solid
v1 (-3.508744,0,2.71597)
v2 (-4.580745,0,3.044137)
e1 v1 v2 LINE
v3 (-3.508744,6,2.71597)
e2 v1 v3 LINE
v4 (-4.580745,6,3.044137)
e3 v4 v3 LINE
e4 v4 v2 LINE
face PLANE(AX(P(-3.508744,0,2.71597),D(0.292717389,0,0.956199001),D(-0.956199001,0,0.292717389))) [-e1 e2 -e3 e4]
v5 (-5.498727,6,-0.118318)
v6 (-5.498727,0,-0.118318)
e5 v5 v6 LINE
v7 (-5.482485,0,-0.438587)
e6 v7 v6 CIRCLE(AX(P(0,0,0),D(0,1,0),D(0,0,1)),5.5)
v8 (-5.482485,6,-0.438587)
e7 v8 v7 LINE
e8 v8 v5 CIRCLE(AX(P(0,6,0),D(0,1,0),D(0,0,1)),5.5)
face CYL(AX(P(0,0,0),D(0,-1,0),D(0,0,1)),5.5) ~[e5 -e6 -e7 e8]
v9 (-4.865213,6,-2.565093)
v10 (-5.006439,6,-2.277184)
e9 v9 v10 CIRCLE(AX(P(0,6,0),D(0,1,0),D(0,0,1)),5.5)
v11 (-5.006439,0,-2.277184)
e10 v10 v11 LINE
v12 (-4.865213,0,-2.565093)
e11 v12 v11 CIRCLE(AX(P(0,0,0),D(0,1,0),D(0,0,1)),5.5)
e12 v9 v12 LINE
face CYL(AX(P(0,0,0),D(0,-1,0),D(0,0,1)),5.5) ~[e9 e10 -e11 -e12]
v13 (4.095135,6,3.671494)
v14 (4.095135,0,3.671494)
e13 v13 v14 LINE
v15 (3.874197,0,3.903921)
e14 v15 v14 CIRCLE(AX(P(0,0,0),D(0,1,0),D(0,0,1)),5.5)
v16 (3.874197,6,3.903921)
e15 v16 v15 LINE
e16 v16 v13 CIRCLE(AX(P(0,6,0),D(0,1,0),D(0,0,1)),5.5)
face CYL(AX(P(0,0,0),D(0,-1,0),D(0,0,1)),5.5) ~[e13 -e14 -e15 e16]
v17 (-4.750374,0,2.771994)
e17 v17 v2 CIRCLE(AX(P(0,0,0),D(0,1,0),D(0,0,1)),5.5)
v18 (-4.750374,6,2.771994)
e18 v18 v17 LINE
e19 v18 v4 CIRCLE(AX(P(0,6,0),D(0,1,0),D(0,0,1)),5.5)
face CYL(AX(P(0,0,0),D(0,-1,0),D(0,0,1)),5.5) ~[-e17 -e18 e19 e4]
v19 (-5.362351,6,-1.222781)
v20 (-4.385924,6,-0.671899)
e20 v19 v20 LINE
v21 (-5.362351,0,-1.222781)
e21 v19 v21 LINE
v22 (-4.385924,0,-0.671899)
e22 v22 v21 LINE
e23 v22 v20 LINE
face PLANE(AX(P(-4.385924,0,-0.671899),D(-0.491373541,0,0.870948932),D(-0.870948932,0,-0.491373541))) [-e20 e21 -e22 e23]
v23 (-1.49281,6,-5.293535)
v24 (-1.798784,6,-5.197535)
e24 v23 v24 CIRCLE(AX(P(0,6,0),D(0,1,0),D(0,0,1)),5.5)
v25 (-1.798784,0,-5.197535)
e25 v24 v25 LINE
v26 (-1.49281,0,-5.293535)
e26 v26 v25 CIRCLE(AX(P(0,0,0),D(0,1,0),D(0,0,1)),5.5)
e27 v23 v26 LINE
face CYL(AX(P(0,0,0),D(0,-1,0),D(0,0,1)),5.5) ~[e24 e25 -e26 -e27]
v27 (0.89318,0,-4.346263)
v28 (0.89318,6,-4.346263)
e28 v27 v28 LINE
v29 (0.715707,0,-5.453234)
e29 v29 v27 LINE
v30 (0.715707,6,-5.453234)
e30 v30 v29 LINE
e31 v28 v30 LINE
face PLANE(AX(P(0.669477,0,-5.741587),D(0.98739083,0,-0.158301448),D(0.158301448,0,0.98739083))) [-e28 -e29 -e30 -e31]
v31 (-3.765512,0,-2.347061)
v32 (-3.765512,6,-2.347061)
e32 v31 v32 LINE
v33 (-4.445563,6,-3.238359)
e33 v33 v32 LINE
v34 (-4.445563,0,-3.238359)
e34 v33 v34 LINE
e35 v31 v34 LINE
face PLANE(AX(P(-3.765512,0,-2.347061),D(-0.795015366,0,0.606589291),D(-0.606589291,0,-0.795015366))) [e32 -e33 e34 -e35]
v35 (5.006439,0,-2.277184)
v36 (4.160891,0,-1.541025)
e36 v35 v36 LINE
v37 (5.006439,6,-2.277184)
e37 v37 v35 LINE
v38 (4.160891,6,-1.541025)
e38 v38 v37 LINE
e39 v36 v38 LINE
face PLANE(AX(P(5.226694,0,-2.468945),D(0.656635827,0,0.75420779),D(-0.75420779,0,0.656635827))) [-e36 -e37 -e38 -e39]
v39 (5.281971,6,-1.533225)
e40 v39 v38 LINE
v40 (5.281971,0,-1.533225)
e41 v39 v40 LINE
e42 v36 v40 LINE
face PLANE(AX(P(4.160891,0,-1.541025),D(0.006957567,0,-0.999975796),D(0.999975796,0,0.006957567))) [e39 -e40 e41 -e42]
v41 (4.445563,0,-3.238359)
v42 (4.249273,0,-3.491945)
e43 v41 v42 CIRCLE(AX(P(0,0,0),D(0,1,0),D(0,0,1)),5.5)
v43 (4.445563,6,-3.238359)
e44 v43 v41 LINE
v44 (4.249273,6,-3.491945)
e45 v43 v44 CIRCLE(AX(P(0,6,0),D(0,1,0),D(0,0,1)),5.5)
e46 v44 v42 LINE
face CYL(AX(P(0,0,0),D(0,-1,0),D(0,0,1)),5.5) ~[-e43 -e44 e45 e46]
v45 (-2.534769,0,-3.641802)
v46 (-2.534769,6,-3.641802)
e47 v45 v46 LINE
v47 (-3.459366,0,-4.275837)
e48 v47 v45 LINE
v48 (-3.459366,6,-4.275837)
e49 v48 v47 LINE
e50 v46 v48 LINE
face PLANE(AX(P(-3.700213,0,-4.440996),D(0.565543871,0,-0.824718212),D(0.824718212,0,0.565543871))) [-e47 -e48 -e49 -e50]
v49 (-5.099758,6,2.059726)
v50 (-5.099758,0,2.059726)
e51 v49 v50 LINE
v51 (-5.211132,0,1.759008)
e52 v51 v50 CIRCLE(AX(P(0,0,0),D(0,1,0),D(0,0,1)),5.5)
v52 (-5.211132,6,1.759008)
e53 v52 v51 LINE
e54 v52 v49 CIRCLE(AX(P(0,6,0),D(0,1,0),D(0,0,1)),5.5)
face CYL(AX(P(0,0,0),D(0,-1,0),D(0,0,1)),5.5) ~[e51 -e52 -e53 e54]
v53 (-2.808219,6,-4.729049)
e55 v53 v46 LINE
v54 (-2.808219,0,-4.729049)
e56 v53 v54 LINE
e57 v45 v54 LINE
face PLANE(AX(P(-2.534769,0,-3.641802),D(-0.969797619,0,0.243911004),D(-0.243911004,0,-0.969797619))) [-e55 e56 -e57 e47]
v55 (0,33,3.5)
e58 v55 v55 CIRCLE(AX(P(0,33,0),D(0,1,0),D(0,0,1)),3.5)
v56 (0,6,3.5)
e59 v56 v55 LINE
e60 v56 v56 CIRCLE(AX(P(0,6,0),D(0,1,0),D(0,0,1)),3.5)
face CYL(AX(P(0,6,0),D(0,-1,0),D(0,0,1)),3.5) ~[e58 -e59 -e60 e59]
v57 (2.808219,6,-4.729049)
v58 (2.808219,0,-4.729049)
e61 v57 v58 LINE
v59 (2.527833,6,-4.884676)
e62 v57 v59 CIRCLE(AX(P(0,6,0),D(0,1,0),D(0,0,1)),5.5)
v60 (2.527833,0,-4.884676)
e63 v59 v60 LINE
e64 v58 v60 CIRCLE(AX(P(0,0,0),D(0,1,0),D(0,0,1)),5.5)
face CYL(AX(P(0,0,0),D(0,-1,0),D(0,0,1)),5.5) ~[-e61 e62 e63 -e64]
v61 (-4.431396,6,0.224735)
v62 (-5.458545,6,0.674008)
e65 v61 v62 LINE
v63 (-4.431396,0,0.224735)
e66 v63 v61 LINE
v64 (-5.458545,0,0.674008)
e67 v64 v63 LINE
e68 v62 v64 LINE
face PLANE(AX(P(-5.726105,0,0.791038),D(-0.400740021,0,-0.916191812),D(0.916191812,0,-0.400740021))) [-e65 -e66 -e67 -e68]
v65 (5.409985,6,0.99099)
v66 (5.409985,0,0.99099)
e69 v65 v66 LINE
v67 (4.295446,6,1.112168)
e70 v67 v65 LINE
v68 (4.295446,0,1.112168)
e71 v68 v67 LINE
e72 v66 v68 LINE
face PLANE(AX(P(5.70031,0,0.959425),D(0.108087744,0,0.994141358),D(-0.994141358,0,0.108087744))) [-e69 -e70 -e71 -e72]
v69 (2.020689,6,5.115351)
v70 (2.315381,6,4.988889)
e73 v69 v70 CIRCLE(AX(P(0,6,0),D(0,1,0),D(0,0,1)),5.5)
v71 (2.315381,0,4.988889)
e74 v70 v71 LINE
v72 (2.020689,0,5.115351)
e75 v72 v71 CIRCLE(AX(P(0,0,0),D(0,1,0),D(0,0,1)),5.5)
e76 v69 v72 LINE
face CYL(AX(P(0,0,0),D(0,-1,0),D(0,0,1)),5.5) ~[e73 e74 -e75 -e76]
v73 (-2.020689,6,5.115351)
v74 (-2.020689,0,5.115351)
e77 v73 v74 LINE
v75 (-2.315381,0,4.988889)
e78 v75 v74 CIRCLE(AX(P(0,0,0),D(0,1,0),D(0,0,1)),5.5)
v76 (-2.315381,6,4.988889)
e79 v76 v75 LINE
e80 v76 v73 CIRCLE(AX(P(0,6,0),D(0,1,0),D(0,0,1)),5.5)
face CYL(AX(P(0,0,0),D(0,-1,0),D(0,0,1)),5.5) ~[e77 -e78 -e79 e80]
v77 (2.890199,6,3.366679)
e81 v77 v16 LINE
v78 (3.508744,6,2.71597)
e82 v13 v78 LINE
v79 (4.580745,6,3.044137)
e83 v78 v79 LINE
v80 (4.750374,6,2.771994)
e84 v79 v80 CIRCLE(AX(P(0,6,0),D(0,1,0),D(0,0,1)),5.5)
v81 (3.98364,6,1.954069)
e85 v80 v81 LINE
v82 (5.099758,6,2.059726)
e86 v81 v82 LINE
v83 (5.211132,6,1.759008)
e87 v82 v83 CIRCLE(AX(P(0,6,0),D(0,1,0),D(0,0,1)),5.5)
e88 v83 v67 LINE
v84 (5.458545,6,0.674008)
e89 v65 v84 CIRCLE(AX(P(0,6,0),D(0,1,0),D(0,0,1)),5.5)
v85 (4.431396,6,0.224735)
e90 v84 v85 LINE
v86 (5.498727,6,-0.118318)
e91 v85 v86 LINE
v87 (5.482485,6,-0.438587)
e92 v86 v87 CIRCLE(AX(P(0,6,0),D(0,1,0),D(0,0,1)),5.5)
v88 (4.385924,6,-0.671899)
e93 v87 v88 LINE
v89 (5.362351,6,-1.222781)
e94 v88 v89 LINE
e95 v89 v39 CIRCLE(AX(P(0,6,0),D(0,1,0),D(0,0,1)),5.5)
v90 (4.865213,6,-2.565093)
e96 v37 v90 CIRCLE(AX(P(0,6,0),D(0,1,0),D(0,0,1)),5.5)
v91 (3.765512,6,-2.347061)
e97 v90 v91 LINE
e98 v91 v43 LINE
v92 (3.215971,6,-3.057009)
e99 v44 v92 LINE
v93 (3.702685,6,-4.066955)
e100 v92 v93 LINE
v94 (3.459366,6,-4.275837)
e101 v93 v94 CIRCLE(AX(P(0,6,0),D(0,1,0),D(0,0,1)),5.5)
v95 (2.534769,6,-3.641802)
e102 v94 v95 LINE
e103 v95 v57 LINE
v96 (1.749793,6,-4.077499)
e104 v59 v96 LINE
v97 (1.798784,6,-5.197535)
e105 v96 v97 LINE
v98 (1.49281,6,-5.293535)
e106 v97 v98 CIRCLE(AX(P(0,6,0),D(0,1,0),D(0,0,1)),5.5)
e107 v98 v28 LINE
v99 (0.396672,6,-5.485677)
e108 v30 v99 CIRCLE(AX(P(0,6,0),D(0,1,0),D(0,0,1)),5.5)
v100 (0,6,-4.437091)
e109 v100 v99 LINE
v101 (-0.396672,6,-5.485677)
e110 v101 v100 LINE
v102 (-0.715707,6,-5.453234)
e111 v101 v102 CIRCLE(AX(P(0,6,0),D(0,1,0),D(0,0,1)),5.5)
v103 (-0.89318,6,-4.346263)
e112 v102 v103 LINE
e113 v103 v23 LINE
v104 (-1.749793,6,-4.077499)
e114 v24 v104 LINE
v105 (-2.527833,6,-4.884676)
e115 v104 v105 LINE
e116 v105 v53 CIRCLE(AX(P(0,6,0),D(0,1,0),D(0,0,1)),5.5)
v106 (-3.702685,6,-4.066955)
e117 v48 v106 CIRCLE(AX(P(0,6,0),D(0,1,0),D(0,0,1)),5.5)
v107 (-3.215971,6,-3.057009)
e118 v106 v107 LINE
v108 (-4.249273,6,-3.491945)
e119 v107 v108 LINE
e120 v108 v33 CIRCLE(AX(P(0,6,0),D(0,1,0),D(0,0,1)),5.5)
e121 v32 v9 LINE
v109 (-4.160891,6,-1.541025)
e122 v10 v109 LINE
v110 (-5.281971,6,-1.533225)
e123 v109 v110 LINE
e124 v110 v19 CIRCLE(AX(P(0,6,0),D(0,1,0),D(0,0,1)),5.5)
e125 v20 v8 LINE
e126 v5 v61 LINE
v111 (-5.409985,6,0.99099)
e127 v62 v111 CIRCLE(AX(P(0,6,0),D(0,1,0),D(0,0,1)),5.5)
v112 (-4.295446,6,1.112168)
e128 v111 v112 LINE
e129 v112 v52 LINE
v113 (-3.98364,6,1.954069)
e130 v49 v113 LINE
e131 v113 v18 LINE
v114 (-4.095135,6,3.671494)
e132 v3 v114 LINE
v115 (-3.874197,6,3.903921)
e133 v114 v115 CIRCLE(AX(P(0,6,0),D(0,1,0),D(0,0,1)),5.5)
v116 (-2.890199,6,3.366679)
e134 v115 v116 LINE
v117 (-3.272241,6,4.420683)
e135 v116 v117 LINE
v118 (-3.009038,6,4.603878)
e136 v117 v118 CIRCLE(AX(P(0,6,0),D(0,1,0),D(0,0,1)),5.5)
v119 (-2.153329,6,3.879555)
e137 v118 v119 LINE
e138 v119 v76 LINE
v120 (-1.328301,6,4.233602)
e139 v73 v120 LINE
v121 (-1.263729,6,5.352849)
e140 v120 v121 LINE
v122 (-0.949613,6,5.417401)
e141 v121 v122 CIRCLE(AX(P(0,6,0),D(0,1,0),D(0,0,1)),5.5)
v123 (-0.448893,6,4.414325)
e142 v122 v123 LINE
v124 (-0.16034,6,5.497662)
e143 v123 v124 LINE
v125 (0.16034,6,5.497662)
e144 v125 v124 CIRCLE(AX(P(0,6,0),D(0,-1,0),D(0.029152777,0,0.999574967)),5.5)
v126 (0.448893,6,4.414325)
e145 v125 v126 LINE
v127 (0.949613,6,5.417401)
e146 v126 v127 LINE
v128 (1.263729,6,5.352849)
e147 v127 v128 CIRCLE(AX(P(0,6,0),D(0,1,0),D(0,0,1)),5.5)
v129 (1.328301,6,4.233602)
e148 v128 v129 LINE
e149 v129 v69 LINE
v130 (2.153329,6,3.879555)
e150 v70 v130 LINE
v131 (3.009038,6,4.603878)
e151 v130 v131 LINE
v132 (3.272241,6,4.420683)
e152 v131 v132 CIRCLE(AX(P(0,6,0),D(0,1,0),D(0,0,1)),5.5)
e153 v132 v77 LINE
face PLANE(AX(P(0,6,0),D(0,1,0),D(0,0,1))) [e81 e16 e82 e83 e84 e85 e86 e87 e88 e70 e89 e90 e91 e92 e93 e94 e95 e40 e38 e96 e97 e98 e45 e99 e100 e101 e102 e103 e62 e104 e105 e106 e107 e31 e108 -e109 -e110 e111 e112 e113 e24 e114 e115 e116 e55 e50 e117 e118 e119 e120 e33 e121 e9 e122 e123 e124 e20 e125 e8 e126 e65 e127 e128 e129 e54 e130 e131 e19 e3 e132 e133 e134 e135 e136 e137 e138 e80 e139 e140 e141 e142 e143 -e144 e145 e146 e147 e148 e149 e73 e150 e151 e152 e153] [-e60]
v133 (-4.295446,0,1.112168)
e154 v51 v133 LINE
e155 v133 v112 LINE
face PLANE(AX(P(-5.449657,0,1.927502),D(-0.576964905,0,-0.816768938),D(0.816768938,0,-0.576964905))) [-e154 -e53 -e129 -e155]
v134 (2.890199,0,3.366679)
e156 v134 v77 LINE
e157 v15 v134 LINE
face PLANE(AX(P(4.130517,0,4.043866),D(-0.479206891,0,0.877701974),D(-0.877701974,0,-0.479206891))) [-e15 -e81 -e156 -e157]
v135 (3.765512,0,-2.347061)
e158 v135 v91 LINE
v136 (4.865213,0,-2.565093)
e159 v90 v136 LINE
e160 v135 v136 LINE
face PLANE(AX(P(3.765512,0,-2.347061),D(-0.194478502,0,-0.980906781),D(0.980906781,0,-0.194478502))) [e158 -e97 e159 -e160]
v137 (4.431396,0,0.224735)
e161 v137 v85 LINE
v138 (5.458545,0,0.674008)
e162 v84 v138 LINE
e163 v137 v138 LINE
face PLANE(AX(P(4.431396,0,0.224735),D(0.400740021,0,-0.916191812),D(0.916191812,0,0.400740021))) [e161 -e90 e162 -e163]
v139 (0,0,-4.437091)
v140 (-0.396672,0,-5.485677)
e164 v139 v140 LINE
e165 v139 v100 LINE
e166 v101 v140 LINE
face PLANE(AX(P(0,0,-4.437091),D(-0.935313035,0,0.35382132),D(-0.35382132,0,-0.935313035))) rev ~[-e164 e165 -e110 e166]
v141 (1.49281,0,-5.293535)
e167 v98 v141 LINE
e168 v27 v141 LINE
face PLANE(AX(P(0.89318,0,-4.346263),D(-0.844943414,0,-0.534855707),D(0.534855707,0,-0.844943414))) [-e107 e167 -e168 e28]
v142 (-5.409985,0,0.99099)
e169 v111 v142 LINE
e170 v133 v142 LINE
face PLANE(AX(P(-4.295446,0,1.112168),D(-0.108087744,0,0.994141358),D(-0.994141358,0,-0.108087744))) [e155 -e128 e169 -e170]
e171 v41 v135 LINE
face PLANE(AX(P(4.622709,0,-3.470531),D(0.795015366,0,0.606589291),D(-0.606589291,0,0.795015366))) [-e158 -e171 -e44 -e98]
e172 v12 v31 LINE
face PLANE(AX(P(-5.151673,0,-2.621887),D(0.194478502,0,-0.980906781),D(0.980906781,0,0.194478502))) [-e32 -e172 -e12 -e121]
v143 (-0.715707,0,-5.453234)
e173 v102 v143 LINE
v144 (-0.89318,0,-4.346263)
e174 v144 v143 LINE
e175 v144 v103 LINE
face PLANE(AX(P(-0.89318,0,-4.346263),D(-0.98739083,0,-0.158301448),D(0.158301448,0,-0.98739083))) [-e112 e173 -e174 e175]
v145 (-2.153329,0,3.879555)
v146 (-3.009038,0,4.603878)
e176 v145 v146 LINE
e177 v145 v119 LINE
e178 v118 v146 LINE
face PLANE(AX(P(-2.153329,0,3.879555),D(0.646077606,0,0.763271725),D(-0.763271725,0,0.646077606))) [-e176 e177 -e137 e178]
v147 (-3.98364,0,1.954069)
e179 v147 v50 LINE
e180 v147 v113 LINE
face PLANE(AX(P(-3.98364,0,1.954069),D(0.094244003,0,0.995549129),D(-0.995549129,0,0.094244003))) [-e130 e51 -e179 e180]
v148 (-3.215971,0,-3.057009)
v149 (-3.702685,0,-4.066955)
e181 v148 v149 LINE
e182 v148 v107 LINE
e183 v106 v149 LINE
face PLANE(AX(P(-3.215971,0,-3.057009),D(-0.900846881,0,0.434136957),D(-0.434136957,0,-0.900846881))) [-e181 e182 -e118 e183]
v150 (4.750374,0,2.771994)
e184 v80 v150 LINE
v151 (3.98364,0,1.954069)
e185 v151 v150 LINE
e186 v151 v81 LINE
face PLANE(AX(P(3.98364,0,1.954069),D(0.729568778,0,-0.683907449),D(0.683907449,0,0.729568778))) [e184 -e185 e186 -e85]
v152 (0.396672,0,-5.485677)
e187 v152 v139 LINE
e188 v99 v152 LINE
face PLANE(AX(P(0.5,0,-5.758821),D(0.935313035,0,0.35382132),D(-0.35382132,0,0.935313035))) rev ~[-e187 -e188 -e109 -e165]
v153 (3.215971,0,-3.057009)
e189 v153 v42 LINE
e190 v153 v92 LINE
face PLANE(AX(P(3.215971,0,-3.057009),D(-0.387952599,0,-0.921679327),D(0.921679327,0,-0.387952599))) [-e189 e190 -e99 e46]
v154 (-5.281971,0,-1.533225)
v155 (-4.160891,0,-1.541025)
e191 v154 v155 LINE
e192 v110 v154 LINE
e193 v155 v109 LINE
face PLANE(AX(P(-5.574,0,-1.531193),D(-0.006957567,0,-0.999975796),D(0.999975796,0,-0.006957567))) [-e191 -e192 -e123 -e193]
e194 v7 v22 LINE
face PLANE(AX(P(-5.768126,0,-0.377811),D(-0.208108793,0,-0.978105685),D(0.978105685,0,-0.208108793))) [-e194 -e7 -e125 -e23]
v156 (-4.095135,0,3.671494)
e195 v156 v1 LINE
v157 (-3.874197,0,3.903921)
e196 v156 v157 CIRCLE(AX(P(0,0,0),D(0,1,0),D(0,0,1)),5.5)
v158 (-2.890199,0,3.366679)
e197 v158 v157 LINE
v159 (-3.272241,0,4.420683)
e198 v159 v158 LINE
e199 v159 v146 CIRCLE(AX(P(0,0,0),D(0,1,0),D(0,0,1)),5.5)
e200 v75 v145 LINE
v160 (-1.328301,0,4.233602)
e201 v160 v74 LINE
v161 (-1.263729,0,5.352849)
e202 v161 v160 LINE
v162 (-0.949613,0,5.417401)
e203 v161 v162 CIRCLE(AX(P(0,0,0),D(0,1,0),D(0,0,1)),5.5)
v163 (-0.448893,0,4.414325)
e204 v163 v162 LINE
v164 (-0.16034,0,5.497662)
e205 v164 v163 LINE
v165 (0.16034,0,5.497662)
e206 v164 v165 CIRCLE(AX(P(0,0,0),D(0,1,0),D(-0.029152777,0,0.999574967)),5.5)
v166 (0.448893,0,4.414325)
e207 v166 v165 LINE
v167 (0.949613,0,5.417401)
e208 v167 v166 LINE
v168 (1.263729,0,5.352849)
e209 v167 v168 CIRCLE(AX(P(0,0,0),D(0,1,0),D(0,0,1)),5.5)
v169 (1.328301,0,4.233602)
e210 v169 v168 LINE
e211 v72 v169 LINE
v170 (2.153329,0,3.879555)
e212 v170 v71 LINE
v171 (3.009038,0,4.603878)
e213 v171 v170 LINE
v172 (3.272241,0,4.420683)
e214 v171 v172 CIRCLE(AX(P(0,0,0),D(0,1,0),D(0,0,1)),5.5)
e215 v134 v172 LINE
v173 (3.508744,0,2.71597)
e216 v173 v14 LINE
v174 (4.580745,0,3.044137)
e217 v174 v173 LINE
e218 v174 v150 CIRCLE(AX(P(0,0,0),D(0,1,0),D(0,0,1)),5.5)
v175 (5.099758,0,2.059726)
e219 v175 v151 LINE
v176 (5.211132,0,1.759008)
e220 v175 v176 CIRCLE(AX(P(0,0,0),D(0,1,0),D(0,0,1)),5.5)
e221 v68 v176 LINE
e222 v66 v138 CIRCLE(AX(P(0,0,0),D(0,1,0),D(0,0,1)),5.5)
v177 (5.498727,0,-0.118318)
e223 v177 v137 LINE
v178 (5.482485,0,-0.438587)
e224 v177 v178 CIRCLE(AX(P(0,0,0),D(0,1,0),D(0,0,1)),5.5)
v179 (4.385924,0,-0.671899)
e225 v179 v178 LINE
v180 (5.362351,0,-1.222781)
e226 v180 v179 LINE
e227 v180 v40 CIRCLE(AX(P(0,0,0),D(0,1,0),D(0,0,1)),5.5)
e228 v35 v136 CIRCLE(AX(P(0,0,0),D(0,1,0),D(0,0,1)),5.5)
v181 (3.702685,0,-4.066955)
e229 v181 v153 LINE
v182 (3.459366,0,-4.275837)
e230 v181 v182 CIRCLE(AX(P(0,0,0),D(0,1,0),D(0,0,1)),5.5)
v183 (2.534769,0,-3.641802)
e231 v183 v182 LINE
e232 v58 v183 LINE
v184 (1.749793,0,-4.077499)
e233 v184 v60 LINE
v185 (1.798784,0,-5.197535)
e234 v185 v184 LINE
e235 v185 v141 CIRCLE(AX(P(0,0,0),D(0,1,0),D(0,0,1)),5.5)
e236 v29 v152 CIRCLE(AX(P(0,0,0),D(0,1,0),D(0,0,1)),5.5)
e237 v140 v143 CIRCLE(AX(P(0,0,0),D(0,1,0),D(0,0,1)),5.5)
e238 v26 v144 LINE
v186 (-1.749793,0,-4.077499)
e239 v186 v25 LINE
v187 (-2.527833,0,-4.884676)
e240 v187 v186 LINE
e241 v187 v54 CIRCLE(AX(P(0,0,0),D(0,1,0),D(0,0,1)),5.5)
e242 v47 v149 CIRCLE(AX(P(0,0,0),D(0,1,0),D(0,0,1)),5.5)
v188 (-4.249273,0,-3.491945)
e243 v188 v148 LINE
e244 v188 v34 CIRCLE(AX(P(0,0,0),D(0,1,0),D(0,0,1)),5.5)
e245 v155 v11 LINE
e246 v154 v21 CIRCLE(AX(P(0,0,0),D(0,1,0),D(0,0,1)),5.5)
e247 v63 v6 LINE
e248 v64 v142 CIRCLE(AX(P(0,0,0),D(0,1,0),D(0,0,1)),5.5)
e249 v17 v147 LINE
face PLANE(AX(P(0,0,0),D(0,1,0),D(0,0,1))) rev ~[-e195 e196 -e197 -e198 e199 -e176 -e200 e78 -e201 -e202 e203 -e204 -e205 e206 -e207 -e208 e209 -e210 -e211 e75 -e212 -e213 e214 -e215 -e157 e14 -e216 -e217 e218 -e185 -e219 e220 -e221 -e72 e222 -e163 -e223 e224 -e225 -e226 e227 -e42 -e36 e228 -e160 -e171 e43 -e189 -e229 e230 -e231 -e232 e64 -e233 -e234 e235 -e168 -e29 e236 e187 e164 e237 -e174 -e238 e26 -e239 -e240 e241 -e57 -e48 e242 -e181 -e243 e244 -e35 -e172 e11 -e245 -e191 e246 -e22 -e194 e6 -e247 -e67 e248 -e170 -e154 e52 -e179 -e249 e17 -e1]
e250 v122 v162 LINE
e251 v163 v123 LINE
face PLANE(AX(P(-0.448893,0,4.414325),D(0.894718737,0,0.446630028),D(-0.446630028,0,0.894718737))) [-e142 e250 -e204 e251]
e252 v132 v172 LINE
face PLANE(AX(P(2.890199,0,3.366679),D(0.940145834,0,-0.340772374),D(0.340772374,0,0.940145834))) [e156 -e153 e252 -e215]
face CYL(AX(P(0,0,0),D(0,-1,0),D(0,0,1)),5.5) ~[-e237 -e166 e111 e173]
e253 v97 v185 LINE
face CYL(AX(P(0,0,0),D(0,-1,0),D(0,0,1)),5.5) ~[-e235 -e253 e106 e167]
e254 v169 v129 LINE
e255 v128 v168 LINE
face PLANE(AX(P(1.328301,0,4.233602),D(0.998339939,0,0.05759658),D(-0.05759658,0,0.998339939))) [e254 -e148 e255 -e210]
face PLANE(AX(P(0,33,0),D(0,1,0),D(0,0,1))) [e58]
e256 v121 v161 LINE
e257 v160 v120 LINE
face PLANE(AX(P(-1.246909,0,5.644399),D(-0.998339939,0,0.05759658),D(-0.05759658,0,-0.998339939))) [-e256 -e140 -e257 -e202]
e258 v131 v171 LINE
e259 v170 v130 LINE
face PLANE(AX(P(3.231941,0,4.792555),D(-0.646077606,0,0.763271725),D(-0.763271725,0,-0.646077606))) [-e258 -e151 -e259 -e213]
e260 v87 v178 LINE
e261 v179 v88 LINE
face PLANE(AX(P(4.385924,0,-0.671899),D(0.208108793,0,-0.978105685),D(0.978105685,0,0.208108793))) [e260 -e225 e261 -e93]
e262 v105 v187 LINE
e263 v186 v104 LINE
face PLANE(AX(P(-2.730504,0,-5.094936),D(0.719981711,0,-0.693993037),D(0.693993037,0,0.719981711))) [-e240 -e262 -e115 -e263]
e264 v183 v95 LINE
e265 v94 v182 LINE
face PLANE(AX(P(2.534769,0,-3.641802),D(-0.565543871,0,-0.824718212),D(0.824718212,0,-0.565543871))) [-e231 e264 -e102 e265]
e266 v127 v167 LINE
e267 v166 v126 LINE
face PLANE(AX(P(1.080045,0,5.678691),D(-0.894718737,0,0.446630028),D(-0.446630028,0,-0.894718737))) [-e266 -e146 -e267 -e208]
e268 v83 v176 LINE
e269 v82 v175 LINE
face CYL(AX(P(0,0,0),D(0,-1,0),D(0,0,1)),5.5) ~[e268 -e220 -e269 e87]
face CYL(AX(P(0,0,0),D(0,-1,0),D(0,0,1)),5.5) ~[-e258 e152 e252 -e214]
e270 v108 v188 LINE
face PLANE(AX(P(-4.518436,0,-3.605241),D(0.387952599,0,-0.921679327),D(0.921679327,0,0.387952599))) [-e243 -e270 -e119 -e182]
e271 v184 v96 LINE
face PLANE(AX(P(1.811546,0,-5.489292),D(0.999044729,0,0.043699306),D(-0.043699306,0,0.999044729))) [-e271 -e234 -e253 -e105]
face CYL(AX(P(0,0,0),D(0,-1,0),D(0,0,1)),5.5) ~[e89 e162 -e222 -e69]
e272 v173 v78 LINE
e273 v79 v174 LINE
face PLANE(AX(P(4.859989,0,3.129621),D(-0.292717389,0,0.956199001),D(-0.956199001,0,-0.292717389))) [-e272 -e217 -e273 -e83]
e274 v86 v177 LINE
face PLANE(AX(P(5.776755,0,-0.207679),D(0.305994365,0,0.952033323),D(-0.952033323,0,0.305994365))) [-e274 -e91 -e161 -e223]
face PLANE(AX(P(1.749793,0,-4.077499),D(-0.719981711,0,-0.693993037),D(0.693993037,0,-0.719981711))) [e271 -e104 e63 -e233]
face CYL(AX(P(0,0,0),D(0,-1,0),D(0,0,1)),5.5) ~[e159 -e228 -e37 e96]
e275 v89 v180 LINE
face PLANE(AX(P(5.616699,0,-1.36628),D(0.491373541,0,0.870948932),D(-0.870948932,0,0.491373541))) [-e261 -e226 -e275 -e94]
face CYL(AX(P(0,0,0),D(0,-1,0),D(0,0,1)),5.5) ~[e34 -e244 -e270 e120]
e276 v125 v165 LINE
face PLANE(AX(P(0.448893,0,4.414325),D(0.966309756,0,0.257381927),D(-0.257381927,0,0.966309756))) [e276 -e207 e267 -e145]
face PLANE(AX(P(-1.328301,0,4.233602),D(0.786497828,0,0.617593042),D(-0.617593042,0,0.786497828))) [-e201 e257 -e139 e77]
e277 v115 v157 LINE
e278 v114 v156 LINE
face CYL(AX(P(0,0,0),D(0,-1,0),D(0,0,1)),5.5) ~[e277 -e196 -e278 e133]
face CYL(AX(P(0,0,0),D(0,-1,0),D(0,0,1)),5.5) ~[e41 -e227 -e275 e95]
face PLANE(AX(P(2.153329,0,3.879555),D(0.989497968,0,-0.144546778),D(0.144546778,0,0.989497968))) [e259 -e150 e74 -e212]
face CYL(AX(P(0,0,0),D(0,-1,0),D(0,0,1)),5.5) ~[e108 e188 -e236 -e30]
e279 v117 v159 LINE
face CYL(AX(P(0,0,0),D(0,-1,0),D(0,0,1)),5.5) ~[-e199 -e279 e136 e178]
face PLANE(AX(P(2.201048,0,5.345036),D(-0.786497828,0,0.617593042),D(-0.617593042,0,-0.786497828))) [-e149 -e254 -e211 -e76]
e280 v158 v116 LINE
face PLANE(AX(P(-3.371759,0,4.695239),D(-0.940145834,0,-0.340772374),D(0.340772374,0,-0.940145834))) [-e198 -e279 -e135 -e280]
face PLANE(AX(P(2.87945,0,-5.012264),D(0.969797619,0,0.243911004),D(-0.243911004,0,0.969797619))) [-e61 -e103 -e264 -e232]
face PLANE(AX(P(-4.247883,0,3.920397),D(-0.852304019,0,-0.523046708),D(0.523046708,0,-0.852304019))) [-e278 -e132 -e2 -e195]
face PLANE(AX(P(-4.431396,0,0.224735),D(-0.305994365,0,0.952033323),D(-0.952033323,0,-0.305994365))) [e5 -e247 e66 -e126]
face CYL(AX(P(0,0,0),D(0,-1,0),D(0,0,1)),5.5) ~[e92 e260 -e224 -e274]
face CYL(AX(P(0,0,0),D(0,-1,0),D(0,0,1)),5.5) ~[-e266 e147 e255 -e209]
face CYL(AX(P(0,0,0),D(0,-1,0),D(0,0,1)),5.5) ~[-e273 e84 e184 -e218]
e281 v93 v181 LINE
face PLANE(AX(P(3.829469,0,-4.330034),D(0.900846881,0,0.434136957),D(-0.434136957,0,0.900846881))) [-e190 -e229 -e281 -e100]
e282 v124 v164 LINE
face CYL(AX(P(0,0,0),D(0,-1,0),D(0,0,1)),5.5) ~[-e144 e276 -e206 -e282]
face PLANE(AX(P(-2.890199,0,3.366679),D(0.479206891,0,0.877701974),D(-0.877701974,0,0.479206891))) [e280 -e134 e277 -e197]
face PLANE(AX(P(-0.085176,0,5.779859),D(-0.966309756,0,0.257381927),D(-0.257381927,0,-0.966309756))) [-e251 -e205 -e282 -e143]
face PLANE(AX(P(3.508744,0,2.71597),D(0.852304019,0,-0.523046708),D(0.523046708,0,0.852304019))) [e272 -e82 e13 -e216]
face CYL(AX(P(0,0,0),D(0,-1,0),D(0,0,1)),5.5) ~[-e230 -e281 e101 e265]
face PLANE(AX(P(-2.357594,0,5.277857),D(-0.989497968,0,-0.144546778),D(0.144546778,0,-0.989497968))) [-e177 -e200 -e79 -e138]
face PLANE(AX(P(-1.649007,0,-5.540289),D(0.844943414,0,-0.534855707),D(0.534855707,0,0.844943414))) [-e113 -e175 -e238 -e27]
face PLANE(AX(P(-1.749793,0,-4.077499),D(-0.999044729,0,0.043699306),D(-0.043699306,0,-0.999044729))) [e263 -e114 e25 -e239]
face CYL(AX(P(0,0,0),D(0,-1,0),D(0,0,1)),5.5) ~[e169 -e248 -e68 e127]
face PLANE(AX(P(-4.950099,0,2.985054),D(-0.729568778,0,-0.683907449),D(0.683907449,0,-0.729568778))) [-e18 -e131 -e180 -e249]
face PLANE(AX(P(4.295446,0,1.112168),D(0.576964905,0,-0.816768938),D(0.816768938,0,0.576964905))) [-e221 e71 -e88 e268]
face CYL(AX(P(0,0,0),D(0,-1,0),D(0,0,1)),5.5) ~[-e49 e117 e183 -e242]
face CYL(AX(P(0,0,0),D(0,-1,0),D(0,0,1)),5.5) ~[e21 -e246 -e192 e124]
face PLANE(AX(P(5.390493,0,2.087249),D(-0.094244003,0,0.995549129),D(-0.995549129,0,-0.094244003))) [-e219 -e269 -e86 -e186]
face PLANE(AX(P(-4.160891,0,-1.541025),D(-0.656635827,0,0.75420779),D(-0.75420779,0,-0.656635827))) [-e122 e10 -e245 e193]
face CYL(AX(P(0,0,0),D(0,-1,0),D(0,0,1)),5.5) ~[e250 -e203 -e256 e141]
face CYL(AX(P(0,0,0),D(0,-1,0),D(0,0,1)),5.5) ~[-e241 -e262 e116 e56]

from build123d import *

# Parameters (mm, degrees)
SKETCH_1_R          = 5.5
EXTRUDE_1_DEPTH     = 6
CUT_EXTRUDE_4_DEPTH = 10.823441352
SKETCH_3_R          = 3.5
EXTRUDE_5_DEPTH     = 27


with BuildPart() as part:
    # Эскиз1 → Вытянуть1 (new body)
    with BuildSketch(Plane(origin=(0, 0, 0), x_dir=(1, 0, 0), z_dir=(0, 1, 0))):
        with Locations(Location((0, 0, 0), (0, 0, 270))):
            Circle(SKETCH_1_R)
    extrude(amount=EXTRUDE_1_DEPTH)

    # Эскиз2 → Вытянуть4 (cut, through all)
    with BuildSketch(Plane(origin=(0, 0, 0), x_dir=(1, 0, 0), z_dir=(0, 1, 0))):
        Polygon((-0.5, 5.758821463), (0.5, 5.758821463), (0, 4.437090717), align=None)
        Polygon((0.669477267, 5.741587309), (0.893179795, 4.346263209), (1.649007209, 5.540288789), align=None)
        Polygon((1.811546057, 5.489291897), (1.749792704, 4.077499175), (2.730503868, 5.094936042), align=None)
        Polygon((2.879449938, 5.012264229), (2.534768894, 3.641801846), (3.700213379, 4.440996014), align=None)
        Polygon((3.8294688, 4.330033874), (3.215971348, 3.057008721), (4.518435719, 3.605241087), align=None)
        Polygon((4.622708759, 3.470531425), (3.765511557, 2.3470613), (5.15167277, 2.621887167), align=None)
        Polygon((5.226694479, 2.46894501), (4.16089128, 1.541024913), (5.573999732, 1.531192878), align=None)
        Polygon((5.616698713, 1.366279697), (4.385923626, 0.671898786), (5.76812649, 0.377811373), align=None)
        Polygon((5.776754641, 0.207678733), (4.431395743, -0.224734957), (5.726105473, -0.791037774), align=None)
        Polygon((5.700309556, -0.959424623), (4.295445997, -1.112168024), (5.449657024, -1.927501742), align=None)
        Polygon((5.390493128, -2.087249022), (3.983640188, -1.954068802), (4.950098976, -2.985053562), align=None)
        Polygon((4.859989278, -3.129621201), (3.508743681, -2.715969773), (4.247883295, -3.920396938), align=None)
        Polygon((4.130516895, -4.043866321), (2.890198796, -3.366678623), (3.371758773, -4.695238804), align=None)
        Polygon((3.231940666, -4.792555078), (2.153328833, -3.879555254), (2.35759405, -5.27785704), align=None)
        Polygon((2.201048406, -5.345036067), (1.328301334, -4.233602437), (1.24690915, -5.64439919), align=None)
        Polygon((1.080044966, -5.678690651), (0.448893022, -4.414325439), (0.085175642, -5.779858973), align=None)
        Polygon((-0.085175642, -5.779858973), (-0.448893022, -4.414325439), (-1.080044966, -5.678690651), align=None)
        Polygon((-1.24690915, -5.64439919), (-1.328301334, -4.233602437), (-2.201048406, -5.345036067), align=None)
        Polygon((-2.35759405, -5.27785704), (-2.153328833, -3.879555254), (-3.231940666, -4.792555078), align=None)
        Polygon((-3.371758773, -4.695238804), (-2.890198796, -3.366678623), (-4.130516895, -4.043866321), align=None)
        Polygon((-4.247883295, -3.920396938), (-3.508743681, -2.715969773), (-4.859989278, -3.129621201), align=None)
        Polygon((-4.950098976, -2.985053562), (-3.983640188, -1.954068802), (-5.390493128, -2.087249022), align=None)
        Polygon((-5.449657024, -1.927501742), (-4.295445997, -1.112168024), (-5.700309556, -0.959424623), align=None)
        Polygon((-5.726105473, -0.791037774), (-4.431395743, -0.224734957), (-5.776754641, 0.207678733), align=None)
        Polygon((-5.76812649, 0.377811373), (-4.385923626, 0.671898786), (-5.616698713, 1.366279697), align=None)
        Polygon((-5.573999732, 1.531192878), (-4.16089128, 1.541024913), (-5.226694479, 2.46894501), align=None)
        Polygon((-5.15167277, 2.621887167), (-3.765511557, 2.3470613), (-4.622708759, 3.470531425), align=None)
        Polygon((-4.518435719, 3.605241087), (-3.215971348, 3.057008721), (-3.8294688, 4.330033874), align=None)
        Polygon((-3.700213379, 4.440996014), (-2.534768894, 3.641801846), (-2.879449938, 5.012264229), align=None)
        Polygon((-2.730503868, 5.094936042), (-1.749792704, 4.077499175), (-1.811546057, 5.489291897), align=None)
        Polygon((-1.649007209, 5.540288789), (-0.893179795, 4.346263209), (-0.669477267, 5.741587309), align=None)
    extrude(amount=CUT_EXTRUDE_4_DEPTH, mode=Mode.SUBTRACT)

    # Эскиз3 → Вытянуть5 (add)
    with BuildSketch(Plane(origin=(0, 6, 0), x_dir=(-1, 0, 0), z_dir=(0, 1, 0))):
        with Locations(Location((0, 0, 0), (0, 0, 90))):
            Circle(SKETCH_3_R)
    extrude(amount=EXTRUDE_5_DEPTH)


solid = part.part
